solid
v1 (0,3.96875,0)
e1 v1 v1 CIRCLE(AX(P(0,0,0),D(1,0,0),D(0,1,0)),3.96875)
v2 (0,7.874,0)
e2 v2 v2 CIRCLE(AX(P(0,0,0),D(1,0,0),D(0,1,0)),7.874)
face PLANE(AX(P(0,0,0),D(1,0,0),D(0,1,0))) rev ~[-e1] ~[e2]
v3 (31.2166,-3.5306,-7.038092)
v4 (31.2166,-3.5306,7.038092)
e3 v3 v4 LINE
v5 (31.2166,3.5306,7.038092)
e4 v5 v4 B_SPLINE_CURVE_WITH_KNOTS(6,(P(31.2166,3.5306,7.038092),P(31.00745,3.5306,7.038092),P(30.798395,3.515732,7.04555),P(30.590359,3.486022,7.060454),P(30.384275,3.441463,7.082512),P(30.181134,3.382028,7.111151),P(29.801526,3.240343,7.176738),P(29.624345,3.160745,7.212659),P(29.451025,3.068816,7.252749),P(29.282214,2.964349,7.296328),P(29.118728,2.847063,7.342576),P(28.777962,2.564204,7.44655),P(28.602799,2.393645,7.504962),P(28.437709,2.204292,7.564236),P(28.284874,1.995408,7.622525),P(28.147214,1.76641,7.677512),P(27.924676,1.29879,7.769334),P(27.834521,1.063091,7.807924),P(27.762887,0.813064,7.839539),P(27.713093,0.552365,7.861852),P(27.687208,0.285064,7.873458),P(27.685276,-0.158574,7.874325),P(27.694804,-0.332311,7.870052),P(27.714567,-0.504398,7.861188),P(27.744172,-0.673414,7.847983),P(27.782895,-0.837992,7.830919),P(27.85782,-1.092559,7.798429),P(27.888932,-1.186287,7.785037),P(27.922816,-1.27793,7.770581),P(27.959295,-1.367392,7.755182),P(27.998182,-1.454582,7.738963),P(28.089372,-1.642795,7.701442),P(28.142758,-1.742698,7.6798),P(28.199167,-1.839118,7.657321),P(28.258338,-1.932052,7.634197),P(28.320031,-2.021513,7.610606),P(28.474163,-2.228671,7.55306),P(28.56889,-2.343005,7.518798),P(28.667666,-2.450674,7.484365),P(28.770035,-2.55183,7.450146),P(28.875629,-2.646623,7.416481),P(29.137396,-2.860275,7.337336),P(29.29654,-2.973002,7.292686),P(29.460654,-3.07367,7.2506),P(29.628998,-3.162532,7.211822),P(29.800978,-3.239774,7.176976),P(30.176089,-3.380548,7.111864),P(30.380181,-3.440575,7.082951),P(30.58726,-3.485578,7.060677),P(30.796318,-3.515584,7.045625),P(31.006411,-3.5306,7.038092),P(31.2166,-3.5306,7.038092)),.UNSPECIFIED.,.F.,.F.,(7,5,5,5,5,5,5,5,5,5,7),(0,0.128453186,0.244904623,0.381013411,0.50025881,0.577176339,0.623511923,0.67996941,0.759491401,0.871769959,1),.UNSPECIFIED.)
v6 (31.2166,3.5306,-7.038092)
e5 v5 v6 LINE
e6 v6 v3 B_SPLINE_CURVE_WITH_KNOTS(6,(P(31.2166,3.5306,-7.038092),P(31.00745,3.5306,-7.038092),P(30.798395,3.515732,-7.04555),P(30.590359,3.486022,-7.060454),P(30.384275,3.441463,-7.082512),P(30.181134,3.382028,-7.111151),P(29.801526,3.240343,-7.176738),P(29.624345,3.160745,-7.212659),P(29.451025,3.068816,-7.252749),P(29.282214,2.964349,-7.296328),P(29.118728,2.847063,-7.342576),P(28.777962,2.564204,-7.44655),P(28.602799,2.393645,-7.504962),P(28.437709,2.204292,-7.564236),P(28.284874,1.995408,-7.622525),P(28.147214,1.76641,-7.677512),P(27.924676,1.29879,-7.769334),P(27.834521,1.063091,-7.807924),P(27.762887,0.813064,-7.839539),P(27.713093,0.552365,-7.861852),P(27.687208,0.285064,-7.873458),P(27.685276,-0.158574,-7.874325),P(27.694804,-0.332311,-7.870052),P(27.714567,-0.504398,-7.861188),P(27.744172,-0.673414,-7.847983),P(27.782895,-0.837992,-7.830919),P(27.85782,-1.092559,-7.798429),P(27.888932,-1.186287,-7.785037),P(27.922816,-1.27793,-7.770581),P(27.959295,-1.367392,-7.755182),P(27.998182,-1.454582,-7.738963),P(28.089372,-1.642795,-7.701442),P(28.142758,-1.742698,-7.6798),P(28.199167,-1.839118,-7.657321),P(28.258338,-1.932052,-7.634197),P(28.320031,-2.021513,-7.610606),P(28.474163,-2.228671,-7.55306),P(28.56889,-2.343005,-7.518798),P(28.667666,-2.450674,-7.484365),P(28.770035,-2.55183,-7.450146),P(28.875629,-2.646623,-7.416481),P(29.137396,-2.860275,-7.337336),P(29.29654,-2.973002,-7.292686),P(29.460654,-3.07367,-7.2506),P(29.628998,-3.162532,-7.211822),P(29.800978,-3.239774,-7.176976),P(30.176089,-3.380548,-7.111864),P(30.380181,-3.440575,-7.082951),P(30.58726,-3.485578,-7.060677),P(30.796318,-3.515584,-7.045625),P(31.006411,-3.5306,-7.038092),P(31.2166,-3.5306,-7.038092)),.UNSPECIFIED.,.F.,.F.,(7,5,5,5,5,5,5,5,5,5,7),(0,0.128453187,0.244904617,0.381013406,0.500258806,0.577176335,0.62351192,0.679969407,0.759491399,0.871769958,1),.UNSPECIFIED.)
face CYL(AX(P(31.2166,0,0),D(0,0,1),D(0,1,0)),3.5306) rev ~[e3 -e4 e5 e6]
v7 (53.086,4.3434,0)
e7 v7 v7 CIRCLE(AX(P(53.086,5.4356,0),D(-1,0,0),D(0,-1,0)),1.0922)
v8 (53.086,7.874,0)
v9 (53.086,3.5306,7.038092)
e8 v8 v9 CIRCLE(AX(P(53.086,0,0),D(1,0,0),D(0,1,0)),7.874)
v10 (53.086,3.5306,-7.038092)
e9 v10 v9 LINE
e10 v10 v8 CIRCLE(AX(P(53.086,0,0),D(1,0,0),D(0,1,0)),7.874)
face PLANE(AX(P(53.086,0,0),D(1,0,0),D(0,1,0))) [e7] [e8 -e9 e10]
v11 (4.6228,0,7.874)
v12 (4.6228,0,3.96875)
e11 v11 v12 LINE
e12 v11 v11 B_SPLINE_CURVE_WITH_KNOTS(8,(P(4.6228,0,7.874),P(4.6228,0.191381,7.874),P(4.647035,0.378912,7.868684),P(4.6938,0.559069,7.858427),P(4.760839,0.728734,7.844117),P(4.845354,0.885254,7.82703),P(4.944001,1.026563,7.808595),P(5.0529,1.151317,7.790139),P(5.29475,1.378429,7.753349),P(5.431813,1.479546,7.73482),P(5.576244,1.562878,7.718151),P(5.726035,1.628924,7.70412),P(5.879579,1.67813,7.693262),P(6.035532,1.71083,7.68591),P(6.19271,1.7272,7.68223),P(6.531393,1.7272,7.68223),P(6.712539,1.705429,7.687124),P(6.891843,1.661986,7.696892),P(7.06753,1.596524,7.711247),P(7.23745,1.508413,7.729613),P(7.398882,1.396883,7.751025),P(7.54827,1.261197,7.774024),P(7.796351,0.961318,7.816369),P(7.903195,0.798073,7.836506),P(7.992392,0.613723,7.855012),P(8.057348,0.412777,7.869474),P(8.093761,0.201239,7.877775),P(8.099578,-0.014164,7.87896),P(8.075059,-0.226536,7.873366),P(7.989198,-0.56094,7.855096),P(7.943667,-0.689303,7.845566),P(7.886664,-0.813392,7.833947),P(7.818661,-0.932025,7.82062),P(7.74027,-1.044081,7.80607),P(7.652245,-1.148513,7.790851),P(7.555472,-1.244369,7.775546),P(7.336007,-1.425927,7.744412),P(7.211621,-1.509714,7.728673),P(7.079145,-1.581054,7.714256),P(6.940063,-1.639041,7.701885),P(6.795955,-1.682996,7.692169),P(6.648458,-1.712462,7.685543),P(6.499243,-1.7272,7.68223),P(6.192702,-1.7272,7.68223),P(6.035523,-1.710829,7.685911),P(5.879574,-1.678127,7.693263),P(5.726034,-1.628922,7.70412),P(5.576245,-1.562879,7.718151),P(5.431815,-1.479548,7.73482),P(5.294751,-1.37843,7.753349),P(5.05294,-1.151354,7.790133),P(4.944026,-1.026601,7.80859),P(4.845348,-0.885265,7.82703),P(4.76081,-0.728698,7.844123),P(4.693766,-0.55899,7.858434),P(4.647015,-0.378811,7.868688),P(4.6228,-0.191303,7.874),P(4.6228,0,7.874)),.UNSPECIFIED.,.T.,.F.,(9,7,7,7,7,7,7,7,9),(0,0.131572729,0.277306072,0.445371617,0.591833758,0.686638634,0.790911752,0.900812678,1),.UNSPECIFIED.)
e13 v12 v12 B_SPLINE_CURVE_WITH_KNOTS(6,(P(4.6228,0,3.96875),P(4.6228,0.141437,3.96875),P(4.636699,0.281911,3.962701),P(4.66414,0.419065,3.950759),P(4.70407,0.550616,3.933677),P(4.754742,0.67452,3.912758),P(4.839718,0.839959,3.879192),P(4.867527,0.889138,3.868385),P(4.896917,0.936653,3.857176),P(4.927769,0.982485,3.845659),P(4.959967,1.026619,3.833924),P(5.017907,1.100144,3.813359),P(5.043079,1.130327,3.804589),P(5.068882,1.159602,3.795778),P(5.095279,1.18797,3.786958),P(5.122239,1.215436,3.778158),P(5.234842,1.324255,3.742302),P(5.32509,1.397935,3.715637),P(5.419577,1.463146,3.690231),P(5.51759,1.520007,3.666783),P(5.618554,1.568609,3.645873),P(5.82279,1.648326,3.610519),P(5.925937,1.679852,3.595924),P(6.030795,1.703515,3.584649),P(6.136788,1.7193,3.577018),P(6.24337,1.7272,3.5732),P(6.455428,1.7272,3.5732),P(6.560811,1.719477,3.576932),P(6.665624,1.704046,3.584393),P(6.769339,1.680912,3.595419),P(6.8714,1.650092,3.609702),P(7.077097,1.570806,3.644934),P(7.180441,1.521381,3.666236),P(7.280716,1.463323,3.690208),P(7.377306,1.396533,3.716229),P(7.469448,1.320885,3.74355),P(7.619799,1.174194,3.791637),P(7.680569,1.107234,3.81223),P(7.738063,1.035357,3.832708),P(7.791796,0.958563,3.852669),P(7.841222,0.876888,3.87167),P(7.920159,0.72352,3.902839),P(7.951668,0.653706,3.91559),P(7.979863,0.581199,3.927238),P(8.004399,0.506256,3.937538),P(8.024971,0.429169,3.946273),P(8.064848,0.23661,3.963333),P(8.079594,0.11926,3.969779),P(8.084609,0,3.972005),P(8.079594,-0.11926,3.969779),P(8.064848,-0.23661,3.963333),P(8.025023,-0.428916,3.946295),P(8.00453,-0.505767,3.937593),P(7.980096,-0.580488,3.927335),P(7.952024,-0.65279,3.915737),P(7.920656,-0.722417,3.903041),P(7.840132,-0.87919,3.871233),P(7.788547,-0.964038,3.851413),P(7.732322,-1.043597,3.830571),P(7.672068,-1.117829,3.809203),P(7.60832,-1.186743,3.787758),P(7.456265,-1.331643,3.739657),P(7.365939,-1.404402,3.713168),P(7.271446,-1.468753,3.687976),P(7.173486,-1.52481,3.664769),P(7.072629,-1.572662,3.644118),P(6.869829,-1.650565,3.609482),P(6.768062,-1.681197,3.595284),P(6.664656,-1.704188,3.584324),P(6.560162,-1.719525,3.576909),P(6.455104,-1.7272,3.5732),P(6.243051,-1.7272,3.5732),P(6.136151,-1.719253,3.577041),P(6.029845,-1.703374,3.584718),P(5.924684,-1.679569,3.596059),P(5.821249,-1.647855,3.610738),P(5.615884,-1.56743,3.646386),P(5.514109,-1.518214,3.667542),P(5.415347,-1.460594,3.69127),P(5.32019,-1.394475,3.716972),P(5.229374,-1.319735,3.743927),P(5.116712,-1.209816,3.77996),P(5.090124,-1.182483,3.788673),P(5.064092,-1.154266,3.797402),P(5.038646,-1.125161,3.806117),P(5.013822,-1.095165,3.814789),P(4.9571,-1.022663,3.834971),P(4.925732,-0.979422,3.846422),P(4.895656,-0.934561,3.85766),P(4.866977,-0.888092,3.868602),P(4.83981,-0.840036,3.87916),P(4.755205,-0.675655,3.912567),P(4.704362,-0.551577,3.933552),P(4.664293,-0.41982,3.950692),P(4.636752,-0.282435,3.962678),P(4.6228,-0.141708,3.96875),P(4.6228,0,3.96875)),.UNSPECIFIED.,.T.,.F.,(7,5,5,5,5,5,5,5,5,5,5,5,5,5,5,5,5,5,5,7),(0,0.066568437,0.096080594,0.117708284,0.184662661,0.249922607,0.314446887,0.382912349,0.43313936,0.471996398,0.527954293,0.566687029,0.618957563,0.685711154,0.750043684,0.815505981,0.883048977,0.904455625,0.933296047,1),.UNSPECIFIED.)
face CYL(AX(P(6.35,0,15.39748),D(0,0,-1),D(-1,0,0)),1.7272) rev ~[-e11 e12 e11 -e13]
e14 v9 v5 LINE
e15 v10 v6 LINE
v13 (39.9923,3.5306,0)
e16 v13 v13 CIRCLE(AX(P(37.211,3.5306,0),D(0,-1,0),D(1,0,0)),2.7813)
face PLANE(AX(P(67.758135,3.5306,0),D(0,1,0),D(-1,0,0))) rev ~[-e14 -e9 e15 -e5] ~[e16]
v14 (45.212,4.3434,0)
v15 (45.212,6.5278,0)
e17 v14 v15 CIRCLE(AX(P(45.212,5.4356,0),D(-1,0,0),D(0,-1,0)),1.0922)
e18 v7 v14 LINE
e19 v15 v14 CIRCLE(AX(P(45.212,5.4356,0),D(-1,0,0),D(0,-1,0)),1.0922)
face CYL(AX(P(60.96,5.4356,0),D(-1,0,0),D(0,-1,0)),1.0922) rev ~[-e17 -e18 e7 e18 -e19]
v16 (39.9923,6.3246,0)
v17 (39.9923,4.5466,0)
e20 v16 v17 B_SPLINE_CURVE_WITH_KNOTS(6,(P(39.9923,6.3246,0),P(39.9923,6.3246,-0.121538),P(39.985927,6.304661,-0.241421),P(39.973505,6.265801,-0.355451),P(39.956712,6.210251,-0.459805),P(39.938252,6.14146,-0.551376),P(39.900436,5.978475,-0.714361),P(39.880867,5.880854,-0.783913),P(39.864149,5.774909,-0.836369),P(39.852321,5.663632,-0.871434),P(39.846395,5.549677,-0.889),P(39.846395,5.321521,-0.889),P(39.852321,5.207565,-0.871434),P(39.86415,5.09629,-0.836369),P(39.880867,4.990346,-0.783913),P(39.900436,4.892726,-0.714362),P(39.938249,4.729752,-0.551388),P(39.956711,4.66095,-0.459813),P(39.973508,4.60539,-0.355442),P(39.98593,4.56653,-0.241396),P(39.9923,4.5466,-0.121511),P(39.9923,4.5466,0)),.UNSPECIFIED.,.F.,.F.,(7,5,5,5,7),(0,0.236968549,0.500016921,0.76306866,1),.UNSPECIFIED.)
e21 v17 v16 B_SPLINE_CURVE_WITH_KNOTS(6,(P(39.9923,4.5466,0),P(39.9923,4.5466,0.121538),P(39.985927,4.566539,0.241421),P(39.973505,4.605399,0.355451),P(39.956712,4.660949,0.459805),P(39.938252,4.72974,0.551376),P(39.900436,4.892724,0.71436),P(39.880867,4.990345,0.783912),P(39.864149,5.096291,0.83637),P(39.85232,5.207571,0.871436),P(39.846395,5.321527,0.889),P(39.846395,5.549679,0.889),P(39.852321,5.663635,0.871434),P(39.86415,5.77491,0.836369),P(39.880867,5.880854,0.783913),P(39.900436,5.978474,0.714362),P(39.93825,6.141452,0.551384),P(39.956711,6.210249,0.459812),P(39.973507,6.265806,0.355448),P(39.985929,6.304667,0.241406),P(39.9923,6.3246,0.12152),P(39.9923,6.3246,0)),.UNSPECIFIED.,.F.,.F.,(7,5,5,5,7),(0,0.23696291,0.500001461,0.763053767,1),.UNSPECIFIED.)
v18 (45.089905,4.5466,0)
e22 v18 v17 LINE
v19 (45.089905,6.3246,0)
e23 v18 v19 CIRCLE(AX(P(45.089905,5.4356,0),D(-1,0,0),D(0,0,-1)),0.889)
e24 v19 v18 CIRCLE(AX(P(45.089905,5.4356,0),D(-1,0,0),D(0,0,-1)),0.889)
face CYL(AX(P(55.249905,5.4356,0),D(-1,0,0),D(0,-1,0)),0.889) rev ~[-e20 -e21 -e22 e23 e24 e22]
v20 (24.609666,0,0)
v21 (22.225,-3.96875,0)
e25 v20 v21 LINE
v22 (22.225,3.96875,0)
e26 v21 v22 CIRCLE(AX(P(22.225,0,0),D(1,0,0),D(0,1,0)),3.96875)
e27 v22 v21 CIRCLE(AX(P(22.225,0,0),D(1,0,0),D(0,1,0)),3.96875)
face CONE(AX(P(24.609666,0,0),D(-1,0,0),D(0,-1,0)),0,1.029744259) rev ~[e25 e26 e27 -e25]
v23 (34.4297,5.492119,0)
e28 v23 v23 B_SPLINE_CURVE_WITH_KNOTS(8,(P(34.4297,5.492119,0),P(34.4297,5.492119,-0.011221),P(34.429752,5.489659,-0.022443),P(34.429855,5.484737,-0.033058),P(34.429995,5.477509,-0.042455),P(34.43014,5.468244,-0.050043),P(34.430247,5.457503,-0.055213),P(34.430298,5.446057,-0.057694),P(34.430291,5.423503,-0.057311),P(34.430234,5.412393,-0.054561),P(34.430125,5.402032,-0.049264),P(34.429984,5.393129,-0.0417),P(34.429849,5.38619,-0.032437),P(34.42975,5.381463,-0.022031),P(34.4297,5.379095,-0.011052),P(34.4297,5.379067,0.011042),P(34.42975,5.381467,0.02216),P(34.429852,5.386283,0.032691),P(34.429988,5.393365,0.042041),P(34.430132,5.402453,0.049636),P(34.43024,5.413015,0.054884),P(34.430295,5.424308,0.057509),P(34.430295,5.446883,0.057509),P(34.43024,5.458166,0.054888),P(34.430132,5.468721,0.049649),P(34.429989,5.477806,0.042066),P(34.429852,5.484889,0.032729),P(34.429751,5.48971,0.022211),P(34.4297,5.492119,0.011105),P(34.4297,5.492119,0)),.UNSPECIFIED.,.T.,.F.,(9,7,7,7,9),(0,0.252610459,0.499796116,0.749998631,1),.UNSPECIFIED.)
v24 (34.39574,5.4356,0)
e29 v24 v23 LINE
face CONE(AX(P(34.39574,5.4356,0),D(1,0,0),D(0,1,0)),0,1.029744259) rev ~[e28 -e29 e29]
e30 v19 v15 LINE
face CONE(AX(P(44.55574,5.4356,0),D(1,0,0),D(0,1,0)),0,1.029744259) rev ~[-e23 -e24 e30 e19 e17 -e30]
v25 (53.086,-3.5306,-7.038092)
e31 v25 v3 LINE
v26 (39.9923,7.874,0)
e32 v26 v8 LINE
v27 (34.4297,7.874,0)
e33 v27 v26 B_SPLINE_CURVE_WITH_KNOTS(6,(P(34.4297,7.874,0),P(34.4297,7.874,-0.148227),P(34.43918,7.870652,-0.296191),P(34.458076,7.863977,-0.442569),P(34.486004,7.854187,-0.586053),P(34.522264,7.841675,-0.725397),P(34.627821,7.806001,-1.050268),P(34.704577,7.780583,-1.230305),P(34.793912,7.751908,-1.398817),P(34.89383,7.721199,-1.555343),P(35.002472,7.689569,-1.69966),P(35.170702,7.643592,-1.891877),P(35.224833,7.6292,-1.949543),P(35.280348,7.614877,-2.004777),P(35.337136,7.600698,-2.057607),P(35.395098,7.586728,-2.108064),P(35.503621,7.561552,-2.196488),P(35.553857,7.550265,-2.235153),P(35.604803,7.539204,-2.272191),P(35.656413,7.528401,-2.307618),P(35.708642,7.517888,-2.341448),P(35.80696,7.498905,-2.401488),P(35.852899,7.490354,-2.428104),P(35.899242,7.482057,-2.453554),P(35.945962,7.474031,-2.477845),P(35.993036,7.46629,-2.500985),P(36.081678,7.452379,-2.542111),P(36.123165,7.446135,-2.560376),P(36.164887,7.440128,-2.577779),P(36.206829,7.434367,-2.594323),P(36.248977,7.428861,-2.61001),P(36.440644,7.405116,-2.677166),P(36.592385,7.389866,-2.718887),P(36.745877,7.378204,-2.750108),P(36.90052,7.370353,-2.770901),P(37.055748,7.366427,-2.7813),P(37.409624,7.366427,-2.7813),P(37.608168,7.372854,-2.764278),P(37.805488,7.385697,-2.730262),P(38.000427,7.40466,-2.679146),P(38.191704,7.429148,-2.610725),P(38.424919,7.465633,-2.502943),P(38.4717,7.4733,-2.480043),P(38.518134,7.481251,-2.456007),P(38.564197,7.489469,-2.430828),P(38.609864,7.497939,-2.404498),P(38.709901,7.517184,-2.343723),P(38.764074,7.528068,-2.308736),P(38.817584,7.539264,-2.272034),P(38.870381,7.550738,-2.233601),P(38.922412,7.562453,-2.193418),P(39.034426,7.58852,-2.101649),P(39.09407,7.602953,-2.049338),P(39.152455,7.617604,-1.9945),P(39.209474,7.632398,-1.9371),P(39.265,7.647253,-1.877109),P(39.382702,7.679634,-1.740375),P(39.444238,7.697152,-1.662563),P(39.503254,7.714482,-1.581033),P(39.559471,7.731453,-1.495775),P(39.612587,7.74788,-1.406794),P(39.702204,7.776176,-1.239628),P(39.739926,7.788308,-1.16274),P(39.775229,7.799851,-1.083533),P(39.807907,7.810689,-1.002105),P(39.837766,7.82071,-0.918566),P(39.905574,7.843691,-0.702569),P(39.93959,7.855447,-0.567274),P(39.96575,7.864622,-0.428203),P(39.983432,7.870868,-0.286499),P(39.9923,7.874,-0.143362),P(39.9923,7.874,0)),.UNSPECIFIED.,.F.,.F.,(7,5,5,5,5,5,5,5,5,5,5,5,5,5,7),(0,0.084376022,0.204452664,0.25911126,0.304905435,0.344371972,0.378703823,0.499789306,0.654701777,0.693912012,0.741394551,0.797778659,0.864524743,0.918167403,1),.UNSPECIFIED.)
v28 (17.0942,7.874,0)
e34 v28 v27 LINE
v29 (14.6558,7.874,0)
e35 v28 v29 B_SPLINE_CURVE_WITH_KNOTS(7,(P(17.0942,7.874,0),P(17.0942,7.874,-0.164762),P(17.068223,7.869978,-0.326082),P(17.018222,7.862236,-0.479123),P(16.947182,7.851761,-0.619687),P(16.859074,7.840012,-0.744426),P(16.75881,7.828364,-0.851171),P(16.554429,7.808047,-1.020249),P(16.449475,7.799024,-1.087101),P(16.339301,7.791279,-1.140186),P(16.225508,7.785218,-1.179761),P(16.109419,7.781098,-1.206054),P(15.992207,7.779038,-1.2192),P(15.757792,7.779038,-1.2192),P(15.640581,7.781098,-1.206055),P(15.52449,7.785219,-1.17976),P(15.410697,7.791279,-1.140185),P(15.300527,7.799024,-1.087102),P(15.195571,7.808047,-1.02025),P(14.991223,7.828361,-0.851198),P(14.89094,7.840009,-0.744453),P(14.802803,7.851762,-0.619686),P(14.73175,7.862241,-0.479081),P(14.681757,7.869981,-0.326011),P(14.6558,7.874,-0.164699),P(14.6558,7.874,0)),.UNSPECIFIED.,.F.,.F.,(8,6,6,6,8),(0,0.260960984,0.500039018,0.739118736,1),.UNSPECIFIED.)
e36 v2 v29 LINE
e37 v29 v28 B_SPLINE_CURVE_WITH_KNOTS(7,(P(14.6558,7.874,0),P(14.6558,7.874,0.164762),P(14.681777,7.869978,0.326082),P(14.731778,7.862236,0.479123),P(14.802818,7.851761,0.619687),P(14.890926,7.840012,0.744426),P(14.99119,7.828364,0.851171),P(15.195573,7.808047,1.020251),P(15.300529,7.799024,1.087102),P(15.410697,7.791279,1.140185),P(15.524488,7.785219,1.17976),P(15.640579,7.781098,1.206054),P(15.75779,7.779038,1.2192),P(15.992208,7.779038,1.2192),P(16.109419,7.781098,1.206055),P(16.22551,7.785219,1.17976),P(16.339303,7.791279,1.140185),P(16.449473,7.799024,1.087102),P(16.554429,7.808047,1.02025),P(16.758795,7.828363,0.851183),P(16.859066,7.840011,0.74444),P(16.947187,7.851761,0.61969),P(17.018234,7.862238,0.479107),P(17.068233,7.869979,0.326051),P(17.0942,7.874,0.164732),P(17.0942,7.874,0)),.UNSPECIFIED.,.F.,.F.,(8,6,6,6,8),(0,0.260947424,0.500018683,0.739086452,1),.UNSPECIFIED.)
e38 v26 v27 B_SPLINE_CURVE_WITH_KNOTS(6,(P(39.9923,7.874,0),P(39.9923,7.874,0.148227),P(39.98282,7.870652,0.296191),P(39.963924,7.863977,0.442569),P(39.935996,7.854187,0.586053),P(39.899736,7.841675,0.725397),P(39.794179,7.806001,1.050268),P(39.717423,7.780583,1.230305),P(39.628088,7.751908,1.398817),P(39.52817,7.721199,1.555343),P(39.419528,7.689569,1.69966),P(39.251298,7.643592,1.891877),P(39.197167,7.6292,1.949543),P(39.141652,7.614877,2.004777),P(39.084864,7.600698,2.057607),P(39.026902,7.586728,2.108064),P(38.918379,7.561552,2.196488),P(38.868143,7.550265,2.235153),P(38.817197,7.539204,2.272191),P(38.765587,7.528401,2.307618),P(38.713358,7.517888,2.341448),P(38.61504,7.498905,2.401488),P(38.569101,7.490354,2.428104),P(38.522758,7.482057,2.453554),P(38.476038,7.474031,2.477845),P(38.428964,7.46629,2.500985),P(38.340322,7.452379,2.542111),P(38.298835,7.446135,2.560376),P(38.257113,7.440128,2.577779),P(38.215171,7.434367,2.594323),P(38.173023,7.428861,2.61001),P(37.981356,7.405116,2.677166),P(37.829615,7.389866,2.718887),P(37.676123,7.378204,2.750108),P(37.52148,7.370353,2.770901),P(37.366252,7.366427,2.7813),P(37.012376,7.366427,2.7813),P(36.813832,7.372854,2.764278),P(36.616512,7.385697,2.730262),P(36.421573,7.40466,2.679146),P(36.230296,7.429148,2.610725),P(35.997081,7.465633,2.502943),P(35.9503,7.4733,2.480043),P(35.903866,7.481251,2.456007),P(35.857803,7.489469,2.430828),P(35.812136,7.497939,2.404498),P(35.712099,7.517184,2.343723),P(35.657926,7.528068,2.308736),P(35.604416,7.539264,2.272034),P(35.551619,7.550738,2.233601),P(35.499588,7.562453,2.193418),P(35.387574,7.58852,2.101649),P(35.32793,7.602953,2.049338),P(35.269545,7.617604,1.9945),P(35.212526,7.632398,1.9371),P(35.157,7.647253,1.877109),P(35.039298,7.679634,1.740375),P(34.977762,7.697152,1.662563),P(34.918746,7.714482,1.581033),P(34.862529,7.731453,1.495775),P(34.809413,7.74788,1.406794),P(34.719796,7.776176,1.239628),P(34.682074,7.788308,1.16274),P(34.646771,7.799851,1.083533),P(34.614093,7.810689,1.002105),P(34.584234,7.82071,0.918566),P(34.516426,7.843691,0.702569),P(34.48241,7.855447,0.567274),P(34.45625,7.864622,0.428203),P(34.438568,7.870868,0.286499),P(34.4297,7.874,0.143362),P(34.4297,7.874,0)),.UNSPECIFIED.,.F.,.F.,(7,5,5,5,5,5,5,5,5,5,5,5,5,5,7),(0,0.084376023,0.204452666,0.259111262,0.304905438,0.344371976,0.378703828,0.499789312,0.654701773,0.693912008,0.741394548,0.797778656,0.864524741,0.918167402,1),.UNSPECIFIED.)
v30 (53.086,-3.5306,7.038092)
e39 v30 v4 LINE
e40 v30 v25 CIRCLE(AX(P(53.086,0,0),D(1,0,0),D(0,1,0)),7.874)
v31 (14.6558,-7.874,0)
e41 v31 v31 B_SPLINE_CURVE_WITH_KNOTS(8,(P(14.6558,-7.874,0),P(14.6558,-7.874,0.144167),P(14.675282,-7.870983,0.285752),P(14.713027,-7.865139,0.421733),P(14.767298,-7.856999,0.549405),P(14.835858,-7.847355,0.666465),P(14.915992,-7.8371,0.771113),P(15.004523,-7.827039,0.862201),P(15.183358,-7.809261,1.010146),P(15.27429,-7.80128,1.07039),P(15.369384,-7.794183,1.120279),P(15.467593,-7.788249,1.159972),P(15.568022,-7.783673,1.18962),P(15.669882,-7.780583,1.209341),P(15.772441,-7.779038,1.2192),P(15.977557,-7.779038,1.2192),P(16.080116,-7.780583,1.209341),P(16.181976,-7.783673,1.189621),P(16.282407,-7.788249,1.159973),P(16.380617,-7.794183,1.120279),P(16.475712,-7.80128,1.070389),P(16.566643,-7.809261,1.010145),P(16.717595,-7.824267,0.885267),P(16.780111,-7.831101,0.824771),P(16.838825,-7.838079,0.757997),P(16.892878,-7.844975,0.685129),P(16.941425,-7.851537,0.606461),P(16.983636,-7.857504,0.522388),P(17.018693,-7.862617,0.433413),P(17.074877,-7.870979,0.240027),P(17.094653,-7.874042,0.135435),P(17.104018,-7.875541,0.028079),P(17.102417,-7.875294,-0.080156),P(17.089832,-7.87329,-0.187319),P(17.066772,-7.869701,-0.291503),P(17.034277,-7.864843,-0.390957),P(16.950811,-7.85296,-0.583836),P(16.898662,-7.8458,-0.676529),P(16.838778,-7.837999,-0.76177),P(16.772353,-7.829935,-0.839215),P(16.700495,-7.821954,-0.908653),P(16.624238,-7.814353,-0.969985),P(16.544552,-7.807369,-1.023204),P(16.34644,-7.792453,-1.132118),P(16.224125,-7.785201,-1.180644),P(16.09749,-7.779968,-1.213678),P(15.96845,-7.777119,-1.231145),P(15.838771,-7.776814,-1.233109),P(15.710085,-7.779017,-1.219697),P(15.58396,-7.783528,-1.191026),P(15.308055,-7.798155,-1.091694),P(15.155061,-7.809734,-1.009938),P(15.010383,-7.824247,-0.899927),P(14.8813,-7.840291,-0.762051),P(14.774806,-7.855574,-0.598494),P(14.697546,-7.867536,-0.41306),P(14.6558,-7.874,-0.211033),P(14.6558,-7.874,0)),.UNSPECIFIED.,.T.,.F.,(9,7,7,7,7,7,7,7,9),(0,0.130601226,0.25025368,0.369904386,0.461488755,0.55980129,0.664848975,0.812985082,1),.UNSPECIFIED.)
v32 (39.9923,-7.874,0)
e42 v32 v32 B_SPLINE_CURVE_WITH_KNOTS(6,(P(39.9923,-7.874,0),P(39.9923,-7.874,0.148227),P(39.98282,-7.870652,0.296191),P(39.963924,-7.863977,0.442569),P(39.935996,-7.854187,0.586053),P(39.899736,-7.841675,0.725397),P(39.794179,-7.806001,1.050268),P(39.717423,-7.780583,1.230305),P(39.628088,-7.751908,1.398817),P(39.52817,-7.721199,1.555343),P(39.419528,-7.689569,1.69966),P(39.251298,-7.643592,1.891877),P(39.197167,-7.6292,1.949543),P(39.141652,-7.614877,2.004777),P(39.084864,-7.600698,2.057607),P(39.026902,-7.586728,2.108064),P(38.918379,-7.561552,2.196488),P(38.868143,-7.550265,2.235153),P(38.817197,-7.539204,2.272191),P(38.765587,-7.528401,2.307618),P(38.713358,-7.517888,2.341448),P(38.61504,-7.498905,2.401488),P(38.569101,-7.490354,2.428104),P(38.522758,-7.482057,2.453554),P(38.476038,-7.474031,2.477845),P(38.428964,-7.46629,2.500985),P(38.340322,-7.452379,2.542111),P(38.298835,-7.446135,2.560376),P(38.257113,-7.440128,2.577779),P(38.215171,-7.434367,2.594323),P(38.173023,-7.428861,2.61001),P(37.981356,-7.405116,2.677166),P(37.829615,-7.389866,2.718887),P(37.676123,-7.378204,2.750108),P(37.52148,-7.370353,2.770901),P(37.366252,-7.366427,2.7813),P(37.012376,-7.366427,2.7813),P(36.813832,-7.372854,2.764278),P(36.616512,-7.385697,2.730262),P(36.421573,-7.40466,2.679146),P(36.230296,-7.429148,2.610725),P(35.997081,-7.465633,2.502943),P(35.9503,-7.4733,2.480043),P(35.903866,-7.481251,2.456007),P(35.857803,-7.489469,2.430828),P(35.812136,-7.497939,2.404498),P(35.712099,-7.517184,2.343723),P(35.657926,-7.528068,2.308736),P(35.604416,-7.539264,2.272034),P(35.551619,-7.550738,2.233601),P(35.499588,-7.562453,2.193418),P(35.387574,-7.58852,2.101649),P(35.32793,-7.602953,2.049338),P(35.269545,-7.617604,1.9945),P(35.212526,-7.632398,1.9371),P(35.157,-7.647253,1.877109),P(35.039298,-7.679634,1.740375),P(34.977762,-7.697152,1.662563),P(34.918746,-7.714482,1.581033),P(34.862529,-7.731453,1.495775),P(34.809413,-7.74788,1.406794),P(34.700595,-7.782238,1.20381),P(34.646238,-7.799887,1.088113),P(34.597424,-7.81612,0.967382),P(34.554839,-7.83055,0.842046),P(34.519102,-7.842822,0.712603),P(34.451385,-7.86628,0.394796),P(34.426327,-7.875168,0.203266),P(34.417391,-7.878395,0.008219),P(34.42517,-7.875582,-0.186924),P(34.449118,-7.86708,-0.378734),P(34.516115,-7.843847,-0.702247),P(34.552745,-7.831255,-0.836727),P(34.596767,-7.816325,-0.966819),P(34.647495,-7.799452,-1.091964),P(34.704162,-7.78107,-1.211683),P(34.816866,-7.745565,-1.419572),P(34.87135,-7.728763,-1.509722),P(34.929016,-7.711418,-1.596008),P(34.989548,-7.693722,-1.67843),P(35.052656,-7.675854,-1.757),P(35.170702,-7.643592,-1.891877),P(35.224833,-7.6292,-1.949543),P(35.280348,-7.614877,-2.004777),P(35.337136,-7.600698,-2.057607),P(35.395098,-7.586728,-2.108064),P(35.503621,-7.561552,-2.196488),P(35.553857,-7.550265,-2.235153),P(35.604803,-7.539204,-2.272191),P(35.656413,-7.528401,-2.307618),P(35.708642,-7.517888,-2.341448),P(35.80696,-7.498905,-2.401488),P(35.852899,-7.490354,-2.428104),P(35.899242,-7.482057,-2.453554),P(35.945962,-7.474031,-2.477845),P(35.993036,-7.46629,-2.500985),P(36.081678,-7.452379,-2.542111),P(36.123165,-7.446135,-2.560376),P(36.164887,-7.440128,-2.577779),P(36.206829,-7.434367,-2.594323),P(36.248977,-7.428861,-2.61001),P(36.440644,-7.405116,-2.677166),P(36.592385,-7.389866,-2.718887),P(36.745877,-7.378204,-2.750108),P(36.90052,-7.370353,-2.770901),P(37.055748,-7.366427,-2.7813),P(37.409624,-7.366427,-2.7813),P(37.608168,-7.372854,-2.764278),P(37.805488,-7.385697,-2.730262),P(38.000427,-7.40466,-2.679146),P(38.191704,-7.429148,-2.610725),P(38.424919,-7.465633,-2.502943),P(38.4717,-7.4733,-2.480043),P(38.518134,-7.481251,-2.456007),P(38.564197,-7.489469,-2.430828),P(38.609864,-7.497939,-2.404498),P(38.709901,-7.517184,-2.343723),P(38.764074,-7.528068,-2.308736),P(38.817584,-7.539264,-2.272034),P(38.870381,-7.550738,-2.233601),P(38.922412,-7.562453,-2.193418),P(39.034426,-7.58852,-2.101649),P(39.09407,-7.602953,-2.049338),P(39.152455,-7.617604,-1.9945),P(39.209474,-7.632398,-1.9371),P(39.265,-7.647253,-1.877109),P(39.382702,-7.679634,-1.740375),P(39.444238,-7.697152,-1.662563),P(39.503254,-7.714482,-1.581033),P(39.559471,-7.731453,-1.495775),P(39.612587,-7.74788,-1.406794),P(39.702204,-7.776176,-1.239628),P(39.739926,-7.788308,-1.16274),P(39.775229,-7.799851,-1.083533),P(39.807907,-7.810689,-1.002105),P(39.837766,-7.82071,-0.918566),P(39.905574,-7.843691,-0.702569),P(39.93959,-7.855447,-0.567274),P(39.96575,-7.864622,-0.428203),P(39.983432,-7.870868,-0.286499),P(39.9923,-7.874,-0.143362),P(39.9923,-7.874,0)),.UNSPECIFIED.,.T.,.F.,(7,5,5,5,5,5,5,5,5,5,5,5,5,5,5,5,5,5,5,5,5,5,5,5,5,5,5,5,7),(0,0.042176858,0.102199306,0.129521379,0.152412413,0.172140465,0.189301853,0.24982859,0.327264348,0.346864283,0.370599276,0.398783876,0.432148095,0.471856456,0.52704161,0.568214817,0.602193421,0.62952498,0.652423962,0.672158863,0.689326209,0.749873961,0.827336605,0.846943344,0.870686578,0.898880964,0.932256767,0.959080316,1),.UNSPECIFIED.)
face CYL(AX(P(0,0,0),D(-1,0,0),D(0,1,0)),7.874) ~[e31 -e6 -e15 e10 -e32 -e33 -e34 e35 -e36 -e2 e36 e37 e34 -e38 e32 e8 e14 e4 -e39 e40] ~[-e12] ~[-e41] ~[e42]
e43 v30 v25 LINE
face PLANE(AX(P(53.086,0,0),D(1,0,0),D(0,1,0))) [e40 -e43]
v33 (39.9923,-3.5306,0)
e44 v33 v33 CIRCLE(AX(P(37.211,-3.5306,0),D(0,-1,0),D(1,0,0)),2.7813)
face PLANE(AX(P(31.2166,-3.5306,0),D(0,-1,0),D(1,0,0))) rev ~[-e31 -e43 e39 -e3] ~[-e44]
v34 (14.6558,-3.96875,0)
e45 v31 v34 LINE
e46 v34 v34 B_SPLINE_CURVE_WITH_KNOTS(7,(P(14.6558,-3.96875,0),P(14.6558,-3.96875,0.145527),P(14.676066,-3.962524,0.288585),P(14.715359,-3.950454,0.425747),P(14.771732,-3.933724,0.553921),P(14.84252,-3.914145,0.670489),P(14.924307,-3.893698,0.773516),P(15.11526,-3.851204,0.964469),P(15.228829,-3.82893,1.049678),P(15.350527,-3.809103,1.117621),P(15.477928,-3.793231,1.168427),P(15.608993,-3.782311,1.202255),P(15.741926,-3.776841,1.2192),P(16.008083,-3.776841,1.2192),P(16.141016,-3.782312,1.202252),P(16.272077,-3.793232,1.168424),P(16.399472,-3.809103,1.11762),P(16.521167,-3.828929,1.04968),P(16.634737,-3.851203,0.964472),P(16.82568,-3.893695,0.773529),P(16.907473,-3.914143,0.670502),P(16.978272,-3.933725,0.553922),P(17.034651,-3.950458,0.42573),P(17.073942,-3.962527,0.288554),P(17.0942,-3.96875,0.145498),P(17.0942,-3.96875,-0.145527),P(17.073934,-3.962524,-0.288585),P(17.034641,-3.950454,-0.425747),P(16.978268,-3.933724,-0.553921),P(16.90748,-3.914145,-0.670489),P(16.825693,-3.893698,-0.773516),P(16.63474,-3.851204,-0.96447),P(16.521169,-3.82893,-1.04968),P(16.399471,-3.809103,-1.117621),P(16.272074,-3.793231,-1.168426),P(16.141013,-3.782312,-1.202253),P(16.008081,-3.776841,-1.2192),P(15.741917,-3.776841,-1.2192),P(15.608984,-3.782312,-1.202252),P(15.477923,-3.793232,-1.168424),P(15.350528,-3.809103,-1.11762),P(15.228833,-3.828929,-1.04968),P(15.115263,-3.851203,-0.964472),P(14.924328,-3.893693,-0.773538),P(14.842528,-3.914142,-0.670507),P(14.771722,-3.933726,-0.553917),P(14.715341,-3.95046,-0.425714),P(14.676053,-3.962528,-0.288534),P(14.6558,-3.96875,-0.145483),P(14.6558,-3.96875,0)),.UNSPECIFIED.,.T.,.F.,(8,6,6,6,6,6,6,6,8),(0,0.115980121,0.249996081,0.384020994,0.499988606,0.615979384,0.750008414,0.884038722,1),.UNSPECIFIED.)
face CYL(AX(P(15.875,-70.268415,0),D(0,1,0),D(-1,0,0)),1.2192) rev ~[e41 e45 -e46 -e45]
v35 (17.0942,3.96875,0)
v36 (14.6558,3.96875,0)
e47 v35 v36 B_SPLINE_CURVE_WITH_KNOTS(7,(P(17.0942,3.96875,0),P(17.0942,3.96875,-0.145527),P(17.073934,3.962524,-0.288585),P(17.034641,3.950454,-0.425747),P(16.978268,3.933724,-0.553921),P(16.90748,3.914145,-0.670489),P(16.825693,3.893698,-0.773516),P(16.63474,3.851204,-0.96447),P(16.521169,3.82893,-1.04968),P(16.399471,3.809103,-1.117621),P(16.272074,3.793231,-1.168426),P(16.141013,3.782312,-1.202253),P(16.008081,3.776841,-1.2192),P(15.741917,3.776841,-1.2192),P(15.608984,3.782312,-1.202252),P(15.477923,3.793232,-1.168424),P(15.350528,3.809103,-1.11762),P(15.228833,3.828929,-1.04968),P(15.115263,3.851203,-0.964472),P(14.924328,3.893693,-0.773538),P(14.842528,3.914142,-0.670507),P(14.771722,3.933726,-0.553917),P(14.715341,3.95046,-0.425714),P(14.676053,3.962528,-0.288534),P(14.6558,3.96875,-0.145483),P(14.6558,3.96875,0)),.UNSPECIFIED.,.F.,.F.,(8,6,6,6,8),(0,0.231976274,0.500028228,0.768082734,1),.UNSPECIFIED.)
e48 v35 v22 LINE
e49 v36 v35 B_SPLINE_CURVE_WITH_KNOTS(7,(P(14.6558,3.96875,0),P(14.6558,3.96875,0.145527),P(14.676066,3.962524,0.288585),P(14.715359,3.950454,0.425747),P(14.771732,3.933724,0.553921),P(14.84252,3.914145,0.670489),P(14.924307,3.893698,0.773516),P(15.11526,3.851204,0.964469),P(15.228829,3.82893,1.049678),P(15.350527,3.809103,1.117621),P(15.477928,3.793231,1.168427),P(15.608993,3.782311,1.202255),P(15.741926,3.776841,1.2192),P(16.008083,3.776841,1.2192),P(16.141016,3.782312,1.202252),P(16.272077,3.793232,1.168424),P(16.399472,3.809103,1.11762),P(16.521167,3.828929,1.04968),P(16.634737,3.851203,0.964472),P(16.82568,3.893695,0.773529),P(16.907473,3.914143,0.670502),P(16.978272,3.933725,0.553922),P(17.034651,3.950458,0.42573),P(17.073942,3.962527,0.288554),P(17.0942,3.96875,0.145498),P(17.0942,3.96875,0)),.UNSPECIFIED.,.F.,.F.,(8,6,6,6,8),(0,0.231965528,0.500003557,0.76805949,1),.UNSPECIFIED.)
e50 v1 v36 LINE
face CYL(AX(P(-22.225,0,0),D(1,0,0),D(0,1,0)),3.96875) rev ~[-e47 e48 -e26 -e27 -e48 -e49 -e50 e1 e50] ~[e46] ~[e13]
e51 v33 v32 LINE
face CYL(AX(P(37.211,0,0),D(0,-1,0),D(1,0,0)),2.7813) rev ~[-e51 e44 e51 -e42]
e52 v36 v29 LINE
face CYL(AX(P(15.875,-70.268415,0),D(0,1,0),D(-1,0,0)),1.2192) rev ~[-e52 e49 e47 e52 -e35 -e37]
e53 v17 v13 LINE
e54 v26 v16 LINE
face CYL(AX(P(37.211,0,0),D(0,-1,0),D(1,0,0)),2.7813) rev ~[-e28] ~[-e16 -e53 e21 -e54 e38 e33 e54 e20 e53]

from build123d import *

# Parameters (mm, degrees)
F0_R      = 7.874
F1_DEPTH  = 53.086
F3_DEPTH  = 12.7
F6_D      = 3.4544
F6_DEPTH  = 7.71525
F6_START  = 4.2557702
F6_TIP    = 1.0378064612
F8_D      = 7.9375
F8_DEPTH  = 22.225
F8_TIP    = 2.3846655818
F9_R      = 2.7813
F10_DEPTH = 12.7
F13_D     = 2.4384
F15_D     = 2.1844
F15_DEPTH = 7.874
F15_TIP   = 0.6562599681
F16_D     = 1.778
F16_DEPTH = 10.16
F16_START = 7.9960949
F16_TIP   = 0.5341650903


with BuildPart() as f1:
    # F0 (on Right) → F1 (new body)
    with BuildSketch(Plane.YZ):
        Circle(F0_R)
    extrude(amount=F1_DEPTH)

    # F2 (on Top) → F3 (cut, symmetric)
    with BuildSketch(Plane.XY):
        with BuildLine():
            ThreePointArc((31.2166, 3.5306), (27.686, 0), (31.2166, -3.5306))
            Line((31.2166, -3.5306), (67.7581354976, -3.5306))
            Line((67.7581354976, -3.5306), (67.7581354976, 3.5306))
            Line((67.7581354976, 3.5306), (31.2166, 3.5306))
        make_face()
    extrude(amount=F3_DEPTH, both=True, mode=Mode.SUBTRACT)

    # F6
    # its depths count from where the whole tool has entered the part; down to there all is cleared
    with Locations(Plane.XY.offset(11.938).offset(-F6_START)):
        with Locations((6.35, 0)):
            Hole(F6_D / 2, depth=F6_DEPTH)
            with Locations((0, 0, -(F6_DEPTH + F6_TIP / 2))):  # 118° drill point
                Cone(0, F6_D / 2, F6_TIP, mode=Mode.SUBTRACT)

    # F8
    with Locations(Plane(origin=(0, 0, 0), x_dir=(0, -1, 0), z_dir=(-1, 0, 0))):
        with Locations((0, 0)):
            Hole(F8_D / 2, depth=F8_DEPTH)
            with Locations((0, 0, -(F8_DEPTH + F8_TIP / 2))):  # 118° drill point
                Cone(0, F8_D / 2, F8_TIP, mode=Mode.SUBTRACT)

    # F9 (on Front) → F10 (cut, symmetric)
    with BuildSketch(Plane.XZ):
        with Locations((37.211, 0)):
            Circle(F9_R)
    extrude(amount=F10_DEPTH, both=True, mode=Mode.SUBTRACT)

    # F13 (through all)
    with Locations(Plane.XZ.offset(12.7)):
        with Locations((15.875, 0)):
            Hole(F13_D / 2)

    # F15
    with Locations(Plane.YZ.offset(53.086)):
        with Locations((5.4356, 0)):
            Hole(F15_D / 2, depth=F15_DEPTH)
            with Locations((0, 0, -(F15_DEPTH + F15_TIP / 2))):  # 118° drill point
                Cone(0, F15_D / 2, F15_TIP, mode=Mode.SUBTRACT)

    # F16
    # its depths count from where the whole tool has entered the part; down to there all is cleared
    with Locations(Plane.YZ.offset(53.086).offset(-F16_START)):
        with Locations((5.4356, 0)):
            Hole(F16_D / 2, depth=F16_DEPTH)
            with Locations((0, 0, -(F16_DEPTH + F16_TIP / 2))):  # 118° drill point
                Cone(0, F16_D / 2, F16_TIP, mode=Mode.SUBTRACT)


solid = f1.part
